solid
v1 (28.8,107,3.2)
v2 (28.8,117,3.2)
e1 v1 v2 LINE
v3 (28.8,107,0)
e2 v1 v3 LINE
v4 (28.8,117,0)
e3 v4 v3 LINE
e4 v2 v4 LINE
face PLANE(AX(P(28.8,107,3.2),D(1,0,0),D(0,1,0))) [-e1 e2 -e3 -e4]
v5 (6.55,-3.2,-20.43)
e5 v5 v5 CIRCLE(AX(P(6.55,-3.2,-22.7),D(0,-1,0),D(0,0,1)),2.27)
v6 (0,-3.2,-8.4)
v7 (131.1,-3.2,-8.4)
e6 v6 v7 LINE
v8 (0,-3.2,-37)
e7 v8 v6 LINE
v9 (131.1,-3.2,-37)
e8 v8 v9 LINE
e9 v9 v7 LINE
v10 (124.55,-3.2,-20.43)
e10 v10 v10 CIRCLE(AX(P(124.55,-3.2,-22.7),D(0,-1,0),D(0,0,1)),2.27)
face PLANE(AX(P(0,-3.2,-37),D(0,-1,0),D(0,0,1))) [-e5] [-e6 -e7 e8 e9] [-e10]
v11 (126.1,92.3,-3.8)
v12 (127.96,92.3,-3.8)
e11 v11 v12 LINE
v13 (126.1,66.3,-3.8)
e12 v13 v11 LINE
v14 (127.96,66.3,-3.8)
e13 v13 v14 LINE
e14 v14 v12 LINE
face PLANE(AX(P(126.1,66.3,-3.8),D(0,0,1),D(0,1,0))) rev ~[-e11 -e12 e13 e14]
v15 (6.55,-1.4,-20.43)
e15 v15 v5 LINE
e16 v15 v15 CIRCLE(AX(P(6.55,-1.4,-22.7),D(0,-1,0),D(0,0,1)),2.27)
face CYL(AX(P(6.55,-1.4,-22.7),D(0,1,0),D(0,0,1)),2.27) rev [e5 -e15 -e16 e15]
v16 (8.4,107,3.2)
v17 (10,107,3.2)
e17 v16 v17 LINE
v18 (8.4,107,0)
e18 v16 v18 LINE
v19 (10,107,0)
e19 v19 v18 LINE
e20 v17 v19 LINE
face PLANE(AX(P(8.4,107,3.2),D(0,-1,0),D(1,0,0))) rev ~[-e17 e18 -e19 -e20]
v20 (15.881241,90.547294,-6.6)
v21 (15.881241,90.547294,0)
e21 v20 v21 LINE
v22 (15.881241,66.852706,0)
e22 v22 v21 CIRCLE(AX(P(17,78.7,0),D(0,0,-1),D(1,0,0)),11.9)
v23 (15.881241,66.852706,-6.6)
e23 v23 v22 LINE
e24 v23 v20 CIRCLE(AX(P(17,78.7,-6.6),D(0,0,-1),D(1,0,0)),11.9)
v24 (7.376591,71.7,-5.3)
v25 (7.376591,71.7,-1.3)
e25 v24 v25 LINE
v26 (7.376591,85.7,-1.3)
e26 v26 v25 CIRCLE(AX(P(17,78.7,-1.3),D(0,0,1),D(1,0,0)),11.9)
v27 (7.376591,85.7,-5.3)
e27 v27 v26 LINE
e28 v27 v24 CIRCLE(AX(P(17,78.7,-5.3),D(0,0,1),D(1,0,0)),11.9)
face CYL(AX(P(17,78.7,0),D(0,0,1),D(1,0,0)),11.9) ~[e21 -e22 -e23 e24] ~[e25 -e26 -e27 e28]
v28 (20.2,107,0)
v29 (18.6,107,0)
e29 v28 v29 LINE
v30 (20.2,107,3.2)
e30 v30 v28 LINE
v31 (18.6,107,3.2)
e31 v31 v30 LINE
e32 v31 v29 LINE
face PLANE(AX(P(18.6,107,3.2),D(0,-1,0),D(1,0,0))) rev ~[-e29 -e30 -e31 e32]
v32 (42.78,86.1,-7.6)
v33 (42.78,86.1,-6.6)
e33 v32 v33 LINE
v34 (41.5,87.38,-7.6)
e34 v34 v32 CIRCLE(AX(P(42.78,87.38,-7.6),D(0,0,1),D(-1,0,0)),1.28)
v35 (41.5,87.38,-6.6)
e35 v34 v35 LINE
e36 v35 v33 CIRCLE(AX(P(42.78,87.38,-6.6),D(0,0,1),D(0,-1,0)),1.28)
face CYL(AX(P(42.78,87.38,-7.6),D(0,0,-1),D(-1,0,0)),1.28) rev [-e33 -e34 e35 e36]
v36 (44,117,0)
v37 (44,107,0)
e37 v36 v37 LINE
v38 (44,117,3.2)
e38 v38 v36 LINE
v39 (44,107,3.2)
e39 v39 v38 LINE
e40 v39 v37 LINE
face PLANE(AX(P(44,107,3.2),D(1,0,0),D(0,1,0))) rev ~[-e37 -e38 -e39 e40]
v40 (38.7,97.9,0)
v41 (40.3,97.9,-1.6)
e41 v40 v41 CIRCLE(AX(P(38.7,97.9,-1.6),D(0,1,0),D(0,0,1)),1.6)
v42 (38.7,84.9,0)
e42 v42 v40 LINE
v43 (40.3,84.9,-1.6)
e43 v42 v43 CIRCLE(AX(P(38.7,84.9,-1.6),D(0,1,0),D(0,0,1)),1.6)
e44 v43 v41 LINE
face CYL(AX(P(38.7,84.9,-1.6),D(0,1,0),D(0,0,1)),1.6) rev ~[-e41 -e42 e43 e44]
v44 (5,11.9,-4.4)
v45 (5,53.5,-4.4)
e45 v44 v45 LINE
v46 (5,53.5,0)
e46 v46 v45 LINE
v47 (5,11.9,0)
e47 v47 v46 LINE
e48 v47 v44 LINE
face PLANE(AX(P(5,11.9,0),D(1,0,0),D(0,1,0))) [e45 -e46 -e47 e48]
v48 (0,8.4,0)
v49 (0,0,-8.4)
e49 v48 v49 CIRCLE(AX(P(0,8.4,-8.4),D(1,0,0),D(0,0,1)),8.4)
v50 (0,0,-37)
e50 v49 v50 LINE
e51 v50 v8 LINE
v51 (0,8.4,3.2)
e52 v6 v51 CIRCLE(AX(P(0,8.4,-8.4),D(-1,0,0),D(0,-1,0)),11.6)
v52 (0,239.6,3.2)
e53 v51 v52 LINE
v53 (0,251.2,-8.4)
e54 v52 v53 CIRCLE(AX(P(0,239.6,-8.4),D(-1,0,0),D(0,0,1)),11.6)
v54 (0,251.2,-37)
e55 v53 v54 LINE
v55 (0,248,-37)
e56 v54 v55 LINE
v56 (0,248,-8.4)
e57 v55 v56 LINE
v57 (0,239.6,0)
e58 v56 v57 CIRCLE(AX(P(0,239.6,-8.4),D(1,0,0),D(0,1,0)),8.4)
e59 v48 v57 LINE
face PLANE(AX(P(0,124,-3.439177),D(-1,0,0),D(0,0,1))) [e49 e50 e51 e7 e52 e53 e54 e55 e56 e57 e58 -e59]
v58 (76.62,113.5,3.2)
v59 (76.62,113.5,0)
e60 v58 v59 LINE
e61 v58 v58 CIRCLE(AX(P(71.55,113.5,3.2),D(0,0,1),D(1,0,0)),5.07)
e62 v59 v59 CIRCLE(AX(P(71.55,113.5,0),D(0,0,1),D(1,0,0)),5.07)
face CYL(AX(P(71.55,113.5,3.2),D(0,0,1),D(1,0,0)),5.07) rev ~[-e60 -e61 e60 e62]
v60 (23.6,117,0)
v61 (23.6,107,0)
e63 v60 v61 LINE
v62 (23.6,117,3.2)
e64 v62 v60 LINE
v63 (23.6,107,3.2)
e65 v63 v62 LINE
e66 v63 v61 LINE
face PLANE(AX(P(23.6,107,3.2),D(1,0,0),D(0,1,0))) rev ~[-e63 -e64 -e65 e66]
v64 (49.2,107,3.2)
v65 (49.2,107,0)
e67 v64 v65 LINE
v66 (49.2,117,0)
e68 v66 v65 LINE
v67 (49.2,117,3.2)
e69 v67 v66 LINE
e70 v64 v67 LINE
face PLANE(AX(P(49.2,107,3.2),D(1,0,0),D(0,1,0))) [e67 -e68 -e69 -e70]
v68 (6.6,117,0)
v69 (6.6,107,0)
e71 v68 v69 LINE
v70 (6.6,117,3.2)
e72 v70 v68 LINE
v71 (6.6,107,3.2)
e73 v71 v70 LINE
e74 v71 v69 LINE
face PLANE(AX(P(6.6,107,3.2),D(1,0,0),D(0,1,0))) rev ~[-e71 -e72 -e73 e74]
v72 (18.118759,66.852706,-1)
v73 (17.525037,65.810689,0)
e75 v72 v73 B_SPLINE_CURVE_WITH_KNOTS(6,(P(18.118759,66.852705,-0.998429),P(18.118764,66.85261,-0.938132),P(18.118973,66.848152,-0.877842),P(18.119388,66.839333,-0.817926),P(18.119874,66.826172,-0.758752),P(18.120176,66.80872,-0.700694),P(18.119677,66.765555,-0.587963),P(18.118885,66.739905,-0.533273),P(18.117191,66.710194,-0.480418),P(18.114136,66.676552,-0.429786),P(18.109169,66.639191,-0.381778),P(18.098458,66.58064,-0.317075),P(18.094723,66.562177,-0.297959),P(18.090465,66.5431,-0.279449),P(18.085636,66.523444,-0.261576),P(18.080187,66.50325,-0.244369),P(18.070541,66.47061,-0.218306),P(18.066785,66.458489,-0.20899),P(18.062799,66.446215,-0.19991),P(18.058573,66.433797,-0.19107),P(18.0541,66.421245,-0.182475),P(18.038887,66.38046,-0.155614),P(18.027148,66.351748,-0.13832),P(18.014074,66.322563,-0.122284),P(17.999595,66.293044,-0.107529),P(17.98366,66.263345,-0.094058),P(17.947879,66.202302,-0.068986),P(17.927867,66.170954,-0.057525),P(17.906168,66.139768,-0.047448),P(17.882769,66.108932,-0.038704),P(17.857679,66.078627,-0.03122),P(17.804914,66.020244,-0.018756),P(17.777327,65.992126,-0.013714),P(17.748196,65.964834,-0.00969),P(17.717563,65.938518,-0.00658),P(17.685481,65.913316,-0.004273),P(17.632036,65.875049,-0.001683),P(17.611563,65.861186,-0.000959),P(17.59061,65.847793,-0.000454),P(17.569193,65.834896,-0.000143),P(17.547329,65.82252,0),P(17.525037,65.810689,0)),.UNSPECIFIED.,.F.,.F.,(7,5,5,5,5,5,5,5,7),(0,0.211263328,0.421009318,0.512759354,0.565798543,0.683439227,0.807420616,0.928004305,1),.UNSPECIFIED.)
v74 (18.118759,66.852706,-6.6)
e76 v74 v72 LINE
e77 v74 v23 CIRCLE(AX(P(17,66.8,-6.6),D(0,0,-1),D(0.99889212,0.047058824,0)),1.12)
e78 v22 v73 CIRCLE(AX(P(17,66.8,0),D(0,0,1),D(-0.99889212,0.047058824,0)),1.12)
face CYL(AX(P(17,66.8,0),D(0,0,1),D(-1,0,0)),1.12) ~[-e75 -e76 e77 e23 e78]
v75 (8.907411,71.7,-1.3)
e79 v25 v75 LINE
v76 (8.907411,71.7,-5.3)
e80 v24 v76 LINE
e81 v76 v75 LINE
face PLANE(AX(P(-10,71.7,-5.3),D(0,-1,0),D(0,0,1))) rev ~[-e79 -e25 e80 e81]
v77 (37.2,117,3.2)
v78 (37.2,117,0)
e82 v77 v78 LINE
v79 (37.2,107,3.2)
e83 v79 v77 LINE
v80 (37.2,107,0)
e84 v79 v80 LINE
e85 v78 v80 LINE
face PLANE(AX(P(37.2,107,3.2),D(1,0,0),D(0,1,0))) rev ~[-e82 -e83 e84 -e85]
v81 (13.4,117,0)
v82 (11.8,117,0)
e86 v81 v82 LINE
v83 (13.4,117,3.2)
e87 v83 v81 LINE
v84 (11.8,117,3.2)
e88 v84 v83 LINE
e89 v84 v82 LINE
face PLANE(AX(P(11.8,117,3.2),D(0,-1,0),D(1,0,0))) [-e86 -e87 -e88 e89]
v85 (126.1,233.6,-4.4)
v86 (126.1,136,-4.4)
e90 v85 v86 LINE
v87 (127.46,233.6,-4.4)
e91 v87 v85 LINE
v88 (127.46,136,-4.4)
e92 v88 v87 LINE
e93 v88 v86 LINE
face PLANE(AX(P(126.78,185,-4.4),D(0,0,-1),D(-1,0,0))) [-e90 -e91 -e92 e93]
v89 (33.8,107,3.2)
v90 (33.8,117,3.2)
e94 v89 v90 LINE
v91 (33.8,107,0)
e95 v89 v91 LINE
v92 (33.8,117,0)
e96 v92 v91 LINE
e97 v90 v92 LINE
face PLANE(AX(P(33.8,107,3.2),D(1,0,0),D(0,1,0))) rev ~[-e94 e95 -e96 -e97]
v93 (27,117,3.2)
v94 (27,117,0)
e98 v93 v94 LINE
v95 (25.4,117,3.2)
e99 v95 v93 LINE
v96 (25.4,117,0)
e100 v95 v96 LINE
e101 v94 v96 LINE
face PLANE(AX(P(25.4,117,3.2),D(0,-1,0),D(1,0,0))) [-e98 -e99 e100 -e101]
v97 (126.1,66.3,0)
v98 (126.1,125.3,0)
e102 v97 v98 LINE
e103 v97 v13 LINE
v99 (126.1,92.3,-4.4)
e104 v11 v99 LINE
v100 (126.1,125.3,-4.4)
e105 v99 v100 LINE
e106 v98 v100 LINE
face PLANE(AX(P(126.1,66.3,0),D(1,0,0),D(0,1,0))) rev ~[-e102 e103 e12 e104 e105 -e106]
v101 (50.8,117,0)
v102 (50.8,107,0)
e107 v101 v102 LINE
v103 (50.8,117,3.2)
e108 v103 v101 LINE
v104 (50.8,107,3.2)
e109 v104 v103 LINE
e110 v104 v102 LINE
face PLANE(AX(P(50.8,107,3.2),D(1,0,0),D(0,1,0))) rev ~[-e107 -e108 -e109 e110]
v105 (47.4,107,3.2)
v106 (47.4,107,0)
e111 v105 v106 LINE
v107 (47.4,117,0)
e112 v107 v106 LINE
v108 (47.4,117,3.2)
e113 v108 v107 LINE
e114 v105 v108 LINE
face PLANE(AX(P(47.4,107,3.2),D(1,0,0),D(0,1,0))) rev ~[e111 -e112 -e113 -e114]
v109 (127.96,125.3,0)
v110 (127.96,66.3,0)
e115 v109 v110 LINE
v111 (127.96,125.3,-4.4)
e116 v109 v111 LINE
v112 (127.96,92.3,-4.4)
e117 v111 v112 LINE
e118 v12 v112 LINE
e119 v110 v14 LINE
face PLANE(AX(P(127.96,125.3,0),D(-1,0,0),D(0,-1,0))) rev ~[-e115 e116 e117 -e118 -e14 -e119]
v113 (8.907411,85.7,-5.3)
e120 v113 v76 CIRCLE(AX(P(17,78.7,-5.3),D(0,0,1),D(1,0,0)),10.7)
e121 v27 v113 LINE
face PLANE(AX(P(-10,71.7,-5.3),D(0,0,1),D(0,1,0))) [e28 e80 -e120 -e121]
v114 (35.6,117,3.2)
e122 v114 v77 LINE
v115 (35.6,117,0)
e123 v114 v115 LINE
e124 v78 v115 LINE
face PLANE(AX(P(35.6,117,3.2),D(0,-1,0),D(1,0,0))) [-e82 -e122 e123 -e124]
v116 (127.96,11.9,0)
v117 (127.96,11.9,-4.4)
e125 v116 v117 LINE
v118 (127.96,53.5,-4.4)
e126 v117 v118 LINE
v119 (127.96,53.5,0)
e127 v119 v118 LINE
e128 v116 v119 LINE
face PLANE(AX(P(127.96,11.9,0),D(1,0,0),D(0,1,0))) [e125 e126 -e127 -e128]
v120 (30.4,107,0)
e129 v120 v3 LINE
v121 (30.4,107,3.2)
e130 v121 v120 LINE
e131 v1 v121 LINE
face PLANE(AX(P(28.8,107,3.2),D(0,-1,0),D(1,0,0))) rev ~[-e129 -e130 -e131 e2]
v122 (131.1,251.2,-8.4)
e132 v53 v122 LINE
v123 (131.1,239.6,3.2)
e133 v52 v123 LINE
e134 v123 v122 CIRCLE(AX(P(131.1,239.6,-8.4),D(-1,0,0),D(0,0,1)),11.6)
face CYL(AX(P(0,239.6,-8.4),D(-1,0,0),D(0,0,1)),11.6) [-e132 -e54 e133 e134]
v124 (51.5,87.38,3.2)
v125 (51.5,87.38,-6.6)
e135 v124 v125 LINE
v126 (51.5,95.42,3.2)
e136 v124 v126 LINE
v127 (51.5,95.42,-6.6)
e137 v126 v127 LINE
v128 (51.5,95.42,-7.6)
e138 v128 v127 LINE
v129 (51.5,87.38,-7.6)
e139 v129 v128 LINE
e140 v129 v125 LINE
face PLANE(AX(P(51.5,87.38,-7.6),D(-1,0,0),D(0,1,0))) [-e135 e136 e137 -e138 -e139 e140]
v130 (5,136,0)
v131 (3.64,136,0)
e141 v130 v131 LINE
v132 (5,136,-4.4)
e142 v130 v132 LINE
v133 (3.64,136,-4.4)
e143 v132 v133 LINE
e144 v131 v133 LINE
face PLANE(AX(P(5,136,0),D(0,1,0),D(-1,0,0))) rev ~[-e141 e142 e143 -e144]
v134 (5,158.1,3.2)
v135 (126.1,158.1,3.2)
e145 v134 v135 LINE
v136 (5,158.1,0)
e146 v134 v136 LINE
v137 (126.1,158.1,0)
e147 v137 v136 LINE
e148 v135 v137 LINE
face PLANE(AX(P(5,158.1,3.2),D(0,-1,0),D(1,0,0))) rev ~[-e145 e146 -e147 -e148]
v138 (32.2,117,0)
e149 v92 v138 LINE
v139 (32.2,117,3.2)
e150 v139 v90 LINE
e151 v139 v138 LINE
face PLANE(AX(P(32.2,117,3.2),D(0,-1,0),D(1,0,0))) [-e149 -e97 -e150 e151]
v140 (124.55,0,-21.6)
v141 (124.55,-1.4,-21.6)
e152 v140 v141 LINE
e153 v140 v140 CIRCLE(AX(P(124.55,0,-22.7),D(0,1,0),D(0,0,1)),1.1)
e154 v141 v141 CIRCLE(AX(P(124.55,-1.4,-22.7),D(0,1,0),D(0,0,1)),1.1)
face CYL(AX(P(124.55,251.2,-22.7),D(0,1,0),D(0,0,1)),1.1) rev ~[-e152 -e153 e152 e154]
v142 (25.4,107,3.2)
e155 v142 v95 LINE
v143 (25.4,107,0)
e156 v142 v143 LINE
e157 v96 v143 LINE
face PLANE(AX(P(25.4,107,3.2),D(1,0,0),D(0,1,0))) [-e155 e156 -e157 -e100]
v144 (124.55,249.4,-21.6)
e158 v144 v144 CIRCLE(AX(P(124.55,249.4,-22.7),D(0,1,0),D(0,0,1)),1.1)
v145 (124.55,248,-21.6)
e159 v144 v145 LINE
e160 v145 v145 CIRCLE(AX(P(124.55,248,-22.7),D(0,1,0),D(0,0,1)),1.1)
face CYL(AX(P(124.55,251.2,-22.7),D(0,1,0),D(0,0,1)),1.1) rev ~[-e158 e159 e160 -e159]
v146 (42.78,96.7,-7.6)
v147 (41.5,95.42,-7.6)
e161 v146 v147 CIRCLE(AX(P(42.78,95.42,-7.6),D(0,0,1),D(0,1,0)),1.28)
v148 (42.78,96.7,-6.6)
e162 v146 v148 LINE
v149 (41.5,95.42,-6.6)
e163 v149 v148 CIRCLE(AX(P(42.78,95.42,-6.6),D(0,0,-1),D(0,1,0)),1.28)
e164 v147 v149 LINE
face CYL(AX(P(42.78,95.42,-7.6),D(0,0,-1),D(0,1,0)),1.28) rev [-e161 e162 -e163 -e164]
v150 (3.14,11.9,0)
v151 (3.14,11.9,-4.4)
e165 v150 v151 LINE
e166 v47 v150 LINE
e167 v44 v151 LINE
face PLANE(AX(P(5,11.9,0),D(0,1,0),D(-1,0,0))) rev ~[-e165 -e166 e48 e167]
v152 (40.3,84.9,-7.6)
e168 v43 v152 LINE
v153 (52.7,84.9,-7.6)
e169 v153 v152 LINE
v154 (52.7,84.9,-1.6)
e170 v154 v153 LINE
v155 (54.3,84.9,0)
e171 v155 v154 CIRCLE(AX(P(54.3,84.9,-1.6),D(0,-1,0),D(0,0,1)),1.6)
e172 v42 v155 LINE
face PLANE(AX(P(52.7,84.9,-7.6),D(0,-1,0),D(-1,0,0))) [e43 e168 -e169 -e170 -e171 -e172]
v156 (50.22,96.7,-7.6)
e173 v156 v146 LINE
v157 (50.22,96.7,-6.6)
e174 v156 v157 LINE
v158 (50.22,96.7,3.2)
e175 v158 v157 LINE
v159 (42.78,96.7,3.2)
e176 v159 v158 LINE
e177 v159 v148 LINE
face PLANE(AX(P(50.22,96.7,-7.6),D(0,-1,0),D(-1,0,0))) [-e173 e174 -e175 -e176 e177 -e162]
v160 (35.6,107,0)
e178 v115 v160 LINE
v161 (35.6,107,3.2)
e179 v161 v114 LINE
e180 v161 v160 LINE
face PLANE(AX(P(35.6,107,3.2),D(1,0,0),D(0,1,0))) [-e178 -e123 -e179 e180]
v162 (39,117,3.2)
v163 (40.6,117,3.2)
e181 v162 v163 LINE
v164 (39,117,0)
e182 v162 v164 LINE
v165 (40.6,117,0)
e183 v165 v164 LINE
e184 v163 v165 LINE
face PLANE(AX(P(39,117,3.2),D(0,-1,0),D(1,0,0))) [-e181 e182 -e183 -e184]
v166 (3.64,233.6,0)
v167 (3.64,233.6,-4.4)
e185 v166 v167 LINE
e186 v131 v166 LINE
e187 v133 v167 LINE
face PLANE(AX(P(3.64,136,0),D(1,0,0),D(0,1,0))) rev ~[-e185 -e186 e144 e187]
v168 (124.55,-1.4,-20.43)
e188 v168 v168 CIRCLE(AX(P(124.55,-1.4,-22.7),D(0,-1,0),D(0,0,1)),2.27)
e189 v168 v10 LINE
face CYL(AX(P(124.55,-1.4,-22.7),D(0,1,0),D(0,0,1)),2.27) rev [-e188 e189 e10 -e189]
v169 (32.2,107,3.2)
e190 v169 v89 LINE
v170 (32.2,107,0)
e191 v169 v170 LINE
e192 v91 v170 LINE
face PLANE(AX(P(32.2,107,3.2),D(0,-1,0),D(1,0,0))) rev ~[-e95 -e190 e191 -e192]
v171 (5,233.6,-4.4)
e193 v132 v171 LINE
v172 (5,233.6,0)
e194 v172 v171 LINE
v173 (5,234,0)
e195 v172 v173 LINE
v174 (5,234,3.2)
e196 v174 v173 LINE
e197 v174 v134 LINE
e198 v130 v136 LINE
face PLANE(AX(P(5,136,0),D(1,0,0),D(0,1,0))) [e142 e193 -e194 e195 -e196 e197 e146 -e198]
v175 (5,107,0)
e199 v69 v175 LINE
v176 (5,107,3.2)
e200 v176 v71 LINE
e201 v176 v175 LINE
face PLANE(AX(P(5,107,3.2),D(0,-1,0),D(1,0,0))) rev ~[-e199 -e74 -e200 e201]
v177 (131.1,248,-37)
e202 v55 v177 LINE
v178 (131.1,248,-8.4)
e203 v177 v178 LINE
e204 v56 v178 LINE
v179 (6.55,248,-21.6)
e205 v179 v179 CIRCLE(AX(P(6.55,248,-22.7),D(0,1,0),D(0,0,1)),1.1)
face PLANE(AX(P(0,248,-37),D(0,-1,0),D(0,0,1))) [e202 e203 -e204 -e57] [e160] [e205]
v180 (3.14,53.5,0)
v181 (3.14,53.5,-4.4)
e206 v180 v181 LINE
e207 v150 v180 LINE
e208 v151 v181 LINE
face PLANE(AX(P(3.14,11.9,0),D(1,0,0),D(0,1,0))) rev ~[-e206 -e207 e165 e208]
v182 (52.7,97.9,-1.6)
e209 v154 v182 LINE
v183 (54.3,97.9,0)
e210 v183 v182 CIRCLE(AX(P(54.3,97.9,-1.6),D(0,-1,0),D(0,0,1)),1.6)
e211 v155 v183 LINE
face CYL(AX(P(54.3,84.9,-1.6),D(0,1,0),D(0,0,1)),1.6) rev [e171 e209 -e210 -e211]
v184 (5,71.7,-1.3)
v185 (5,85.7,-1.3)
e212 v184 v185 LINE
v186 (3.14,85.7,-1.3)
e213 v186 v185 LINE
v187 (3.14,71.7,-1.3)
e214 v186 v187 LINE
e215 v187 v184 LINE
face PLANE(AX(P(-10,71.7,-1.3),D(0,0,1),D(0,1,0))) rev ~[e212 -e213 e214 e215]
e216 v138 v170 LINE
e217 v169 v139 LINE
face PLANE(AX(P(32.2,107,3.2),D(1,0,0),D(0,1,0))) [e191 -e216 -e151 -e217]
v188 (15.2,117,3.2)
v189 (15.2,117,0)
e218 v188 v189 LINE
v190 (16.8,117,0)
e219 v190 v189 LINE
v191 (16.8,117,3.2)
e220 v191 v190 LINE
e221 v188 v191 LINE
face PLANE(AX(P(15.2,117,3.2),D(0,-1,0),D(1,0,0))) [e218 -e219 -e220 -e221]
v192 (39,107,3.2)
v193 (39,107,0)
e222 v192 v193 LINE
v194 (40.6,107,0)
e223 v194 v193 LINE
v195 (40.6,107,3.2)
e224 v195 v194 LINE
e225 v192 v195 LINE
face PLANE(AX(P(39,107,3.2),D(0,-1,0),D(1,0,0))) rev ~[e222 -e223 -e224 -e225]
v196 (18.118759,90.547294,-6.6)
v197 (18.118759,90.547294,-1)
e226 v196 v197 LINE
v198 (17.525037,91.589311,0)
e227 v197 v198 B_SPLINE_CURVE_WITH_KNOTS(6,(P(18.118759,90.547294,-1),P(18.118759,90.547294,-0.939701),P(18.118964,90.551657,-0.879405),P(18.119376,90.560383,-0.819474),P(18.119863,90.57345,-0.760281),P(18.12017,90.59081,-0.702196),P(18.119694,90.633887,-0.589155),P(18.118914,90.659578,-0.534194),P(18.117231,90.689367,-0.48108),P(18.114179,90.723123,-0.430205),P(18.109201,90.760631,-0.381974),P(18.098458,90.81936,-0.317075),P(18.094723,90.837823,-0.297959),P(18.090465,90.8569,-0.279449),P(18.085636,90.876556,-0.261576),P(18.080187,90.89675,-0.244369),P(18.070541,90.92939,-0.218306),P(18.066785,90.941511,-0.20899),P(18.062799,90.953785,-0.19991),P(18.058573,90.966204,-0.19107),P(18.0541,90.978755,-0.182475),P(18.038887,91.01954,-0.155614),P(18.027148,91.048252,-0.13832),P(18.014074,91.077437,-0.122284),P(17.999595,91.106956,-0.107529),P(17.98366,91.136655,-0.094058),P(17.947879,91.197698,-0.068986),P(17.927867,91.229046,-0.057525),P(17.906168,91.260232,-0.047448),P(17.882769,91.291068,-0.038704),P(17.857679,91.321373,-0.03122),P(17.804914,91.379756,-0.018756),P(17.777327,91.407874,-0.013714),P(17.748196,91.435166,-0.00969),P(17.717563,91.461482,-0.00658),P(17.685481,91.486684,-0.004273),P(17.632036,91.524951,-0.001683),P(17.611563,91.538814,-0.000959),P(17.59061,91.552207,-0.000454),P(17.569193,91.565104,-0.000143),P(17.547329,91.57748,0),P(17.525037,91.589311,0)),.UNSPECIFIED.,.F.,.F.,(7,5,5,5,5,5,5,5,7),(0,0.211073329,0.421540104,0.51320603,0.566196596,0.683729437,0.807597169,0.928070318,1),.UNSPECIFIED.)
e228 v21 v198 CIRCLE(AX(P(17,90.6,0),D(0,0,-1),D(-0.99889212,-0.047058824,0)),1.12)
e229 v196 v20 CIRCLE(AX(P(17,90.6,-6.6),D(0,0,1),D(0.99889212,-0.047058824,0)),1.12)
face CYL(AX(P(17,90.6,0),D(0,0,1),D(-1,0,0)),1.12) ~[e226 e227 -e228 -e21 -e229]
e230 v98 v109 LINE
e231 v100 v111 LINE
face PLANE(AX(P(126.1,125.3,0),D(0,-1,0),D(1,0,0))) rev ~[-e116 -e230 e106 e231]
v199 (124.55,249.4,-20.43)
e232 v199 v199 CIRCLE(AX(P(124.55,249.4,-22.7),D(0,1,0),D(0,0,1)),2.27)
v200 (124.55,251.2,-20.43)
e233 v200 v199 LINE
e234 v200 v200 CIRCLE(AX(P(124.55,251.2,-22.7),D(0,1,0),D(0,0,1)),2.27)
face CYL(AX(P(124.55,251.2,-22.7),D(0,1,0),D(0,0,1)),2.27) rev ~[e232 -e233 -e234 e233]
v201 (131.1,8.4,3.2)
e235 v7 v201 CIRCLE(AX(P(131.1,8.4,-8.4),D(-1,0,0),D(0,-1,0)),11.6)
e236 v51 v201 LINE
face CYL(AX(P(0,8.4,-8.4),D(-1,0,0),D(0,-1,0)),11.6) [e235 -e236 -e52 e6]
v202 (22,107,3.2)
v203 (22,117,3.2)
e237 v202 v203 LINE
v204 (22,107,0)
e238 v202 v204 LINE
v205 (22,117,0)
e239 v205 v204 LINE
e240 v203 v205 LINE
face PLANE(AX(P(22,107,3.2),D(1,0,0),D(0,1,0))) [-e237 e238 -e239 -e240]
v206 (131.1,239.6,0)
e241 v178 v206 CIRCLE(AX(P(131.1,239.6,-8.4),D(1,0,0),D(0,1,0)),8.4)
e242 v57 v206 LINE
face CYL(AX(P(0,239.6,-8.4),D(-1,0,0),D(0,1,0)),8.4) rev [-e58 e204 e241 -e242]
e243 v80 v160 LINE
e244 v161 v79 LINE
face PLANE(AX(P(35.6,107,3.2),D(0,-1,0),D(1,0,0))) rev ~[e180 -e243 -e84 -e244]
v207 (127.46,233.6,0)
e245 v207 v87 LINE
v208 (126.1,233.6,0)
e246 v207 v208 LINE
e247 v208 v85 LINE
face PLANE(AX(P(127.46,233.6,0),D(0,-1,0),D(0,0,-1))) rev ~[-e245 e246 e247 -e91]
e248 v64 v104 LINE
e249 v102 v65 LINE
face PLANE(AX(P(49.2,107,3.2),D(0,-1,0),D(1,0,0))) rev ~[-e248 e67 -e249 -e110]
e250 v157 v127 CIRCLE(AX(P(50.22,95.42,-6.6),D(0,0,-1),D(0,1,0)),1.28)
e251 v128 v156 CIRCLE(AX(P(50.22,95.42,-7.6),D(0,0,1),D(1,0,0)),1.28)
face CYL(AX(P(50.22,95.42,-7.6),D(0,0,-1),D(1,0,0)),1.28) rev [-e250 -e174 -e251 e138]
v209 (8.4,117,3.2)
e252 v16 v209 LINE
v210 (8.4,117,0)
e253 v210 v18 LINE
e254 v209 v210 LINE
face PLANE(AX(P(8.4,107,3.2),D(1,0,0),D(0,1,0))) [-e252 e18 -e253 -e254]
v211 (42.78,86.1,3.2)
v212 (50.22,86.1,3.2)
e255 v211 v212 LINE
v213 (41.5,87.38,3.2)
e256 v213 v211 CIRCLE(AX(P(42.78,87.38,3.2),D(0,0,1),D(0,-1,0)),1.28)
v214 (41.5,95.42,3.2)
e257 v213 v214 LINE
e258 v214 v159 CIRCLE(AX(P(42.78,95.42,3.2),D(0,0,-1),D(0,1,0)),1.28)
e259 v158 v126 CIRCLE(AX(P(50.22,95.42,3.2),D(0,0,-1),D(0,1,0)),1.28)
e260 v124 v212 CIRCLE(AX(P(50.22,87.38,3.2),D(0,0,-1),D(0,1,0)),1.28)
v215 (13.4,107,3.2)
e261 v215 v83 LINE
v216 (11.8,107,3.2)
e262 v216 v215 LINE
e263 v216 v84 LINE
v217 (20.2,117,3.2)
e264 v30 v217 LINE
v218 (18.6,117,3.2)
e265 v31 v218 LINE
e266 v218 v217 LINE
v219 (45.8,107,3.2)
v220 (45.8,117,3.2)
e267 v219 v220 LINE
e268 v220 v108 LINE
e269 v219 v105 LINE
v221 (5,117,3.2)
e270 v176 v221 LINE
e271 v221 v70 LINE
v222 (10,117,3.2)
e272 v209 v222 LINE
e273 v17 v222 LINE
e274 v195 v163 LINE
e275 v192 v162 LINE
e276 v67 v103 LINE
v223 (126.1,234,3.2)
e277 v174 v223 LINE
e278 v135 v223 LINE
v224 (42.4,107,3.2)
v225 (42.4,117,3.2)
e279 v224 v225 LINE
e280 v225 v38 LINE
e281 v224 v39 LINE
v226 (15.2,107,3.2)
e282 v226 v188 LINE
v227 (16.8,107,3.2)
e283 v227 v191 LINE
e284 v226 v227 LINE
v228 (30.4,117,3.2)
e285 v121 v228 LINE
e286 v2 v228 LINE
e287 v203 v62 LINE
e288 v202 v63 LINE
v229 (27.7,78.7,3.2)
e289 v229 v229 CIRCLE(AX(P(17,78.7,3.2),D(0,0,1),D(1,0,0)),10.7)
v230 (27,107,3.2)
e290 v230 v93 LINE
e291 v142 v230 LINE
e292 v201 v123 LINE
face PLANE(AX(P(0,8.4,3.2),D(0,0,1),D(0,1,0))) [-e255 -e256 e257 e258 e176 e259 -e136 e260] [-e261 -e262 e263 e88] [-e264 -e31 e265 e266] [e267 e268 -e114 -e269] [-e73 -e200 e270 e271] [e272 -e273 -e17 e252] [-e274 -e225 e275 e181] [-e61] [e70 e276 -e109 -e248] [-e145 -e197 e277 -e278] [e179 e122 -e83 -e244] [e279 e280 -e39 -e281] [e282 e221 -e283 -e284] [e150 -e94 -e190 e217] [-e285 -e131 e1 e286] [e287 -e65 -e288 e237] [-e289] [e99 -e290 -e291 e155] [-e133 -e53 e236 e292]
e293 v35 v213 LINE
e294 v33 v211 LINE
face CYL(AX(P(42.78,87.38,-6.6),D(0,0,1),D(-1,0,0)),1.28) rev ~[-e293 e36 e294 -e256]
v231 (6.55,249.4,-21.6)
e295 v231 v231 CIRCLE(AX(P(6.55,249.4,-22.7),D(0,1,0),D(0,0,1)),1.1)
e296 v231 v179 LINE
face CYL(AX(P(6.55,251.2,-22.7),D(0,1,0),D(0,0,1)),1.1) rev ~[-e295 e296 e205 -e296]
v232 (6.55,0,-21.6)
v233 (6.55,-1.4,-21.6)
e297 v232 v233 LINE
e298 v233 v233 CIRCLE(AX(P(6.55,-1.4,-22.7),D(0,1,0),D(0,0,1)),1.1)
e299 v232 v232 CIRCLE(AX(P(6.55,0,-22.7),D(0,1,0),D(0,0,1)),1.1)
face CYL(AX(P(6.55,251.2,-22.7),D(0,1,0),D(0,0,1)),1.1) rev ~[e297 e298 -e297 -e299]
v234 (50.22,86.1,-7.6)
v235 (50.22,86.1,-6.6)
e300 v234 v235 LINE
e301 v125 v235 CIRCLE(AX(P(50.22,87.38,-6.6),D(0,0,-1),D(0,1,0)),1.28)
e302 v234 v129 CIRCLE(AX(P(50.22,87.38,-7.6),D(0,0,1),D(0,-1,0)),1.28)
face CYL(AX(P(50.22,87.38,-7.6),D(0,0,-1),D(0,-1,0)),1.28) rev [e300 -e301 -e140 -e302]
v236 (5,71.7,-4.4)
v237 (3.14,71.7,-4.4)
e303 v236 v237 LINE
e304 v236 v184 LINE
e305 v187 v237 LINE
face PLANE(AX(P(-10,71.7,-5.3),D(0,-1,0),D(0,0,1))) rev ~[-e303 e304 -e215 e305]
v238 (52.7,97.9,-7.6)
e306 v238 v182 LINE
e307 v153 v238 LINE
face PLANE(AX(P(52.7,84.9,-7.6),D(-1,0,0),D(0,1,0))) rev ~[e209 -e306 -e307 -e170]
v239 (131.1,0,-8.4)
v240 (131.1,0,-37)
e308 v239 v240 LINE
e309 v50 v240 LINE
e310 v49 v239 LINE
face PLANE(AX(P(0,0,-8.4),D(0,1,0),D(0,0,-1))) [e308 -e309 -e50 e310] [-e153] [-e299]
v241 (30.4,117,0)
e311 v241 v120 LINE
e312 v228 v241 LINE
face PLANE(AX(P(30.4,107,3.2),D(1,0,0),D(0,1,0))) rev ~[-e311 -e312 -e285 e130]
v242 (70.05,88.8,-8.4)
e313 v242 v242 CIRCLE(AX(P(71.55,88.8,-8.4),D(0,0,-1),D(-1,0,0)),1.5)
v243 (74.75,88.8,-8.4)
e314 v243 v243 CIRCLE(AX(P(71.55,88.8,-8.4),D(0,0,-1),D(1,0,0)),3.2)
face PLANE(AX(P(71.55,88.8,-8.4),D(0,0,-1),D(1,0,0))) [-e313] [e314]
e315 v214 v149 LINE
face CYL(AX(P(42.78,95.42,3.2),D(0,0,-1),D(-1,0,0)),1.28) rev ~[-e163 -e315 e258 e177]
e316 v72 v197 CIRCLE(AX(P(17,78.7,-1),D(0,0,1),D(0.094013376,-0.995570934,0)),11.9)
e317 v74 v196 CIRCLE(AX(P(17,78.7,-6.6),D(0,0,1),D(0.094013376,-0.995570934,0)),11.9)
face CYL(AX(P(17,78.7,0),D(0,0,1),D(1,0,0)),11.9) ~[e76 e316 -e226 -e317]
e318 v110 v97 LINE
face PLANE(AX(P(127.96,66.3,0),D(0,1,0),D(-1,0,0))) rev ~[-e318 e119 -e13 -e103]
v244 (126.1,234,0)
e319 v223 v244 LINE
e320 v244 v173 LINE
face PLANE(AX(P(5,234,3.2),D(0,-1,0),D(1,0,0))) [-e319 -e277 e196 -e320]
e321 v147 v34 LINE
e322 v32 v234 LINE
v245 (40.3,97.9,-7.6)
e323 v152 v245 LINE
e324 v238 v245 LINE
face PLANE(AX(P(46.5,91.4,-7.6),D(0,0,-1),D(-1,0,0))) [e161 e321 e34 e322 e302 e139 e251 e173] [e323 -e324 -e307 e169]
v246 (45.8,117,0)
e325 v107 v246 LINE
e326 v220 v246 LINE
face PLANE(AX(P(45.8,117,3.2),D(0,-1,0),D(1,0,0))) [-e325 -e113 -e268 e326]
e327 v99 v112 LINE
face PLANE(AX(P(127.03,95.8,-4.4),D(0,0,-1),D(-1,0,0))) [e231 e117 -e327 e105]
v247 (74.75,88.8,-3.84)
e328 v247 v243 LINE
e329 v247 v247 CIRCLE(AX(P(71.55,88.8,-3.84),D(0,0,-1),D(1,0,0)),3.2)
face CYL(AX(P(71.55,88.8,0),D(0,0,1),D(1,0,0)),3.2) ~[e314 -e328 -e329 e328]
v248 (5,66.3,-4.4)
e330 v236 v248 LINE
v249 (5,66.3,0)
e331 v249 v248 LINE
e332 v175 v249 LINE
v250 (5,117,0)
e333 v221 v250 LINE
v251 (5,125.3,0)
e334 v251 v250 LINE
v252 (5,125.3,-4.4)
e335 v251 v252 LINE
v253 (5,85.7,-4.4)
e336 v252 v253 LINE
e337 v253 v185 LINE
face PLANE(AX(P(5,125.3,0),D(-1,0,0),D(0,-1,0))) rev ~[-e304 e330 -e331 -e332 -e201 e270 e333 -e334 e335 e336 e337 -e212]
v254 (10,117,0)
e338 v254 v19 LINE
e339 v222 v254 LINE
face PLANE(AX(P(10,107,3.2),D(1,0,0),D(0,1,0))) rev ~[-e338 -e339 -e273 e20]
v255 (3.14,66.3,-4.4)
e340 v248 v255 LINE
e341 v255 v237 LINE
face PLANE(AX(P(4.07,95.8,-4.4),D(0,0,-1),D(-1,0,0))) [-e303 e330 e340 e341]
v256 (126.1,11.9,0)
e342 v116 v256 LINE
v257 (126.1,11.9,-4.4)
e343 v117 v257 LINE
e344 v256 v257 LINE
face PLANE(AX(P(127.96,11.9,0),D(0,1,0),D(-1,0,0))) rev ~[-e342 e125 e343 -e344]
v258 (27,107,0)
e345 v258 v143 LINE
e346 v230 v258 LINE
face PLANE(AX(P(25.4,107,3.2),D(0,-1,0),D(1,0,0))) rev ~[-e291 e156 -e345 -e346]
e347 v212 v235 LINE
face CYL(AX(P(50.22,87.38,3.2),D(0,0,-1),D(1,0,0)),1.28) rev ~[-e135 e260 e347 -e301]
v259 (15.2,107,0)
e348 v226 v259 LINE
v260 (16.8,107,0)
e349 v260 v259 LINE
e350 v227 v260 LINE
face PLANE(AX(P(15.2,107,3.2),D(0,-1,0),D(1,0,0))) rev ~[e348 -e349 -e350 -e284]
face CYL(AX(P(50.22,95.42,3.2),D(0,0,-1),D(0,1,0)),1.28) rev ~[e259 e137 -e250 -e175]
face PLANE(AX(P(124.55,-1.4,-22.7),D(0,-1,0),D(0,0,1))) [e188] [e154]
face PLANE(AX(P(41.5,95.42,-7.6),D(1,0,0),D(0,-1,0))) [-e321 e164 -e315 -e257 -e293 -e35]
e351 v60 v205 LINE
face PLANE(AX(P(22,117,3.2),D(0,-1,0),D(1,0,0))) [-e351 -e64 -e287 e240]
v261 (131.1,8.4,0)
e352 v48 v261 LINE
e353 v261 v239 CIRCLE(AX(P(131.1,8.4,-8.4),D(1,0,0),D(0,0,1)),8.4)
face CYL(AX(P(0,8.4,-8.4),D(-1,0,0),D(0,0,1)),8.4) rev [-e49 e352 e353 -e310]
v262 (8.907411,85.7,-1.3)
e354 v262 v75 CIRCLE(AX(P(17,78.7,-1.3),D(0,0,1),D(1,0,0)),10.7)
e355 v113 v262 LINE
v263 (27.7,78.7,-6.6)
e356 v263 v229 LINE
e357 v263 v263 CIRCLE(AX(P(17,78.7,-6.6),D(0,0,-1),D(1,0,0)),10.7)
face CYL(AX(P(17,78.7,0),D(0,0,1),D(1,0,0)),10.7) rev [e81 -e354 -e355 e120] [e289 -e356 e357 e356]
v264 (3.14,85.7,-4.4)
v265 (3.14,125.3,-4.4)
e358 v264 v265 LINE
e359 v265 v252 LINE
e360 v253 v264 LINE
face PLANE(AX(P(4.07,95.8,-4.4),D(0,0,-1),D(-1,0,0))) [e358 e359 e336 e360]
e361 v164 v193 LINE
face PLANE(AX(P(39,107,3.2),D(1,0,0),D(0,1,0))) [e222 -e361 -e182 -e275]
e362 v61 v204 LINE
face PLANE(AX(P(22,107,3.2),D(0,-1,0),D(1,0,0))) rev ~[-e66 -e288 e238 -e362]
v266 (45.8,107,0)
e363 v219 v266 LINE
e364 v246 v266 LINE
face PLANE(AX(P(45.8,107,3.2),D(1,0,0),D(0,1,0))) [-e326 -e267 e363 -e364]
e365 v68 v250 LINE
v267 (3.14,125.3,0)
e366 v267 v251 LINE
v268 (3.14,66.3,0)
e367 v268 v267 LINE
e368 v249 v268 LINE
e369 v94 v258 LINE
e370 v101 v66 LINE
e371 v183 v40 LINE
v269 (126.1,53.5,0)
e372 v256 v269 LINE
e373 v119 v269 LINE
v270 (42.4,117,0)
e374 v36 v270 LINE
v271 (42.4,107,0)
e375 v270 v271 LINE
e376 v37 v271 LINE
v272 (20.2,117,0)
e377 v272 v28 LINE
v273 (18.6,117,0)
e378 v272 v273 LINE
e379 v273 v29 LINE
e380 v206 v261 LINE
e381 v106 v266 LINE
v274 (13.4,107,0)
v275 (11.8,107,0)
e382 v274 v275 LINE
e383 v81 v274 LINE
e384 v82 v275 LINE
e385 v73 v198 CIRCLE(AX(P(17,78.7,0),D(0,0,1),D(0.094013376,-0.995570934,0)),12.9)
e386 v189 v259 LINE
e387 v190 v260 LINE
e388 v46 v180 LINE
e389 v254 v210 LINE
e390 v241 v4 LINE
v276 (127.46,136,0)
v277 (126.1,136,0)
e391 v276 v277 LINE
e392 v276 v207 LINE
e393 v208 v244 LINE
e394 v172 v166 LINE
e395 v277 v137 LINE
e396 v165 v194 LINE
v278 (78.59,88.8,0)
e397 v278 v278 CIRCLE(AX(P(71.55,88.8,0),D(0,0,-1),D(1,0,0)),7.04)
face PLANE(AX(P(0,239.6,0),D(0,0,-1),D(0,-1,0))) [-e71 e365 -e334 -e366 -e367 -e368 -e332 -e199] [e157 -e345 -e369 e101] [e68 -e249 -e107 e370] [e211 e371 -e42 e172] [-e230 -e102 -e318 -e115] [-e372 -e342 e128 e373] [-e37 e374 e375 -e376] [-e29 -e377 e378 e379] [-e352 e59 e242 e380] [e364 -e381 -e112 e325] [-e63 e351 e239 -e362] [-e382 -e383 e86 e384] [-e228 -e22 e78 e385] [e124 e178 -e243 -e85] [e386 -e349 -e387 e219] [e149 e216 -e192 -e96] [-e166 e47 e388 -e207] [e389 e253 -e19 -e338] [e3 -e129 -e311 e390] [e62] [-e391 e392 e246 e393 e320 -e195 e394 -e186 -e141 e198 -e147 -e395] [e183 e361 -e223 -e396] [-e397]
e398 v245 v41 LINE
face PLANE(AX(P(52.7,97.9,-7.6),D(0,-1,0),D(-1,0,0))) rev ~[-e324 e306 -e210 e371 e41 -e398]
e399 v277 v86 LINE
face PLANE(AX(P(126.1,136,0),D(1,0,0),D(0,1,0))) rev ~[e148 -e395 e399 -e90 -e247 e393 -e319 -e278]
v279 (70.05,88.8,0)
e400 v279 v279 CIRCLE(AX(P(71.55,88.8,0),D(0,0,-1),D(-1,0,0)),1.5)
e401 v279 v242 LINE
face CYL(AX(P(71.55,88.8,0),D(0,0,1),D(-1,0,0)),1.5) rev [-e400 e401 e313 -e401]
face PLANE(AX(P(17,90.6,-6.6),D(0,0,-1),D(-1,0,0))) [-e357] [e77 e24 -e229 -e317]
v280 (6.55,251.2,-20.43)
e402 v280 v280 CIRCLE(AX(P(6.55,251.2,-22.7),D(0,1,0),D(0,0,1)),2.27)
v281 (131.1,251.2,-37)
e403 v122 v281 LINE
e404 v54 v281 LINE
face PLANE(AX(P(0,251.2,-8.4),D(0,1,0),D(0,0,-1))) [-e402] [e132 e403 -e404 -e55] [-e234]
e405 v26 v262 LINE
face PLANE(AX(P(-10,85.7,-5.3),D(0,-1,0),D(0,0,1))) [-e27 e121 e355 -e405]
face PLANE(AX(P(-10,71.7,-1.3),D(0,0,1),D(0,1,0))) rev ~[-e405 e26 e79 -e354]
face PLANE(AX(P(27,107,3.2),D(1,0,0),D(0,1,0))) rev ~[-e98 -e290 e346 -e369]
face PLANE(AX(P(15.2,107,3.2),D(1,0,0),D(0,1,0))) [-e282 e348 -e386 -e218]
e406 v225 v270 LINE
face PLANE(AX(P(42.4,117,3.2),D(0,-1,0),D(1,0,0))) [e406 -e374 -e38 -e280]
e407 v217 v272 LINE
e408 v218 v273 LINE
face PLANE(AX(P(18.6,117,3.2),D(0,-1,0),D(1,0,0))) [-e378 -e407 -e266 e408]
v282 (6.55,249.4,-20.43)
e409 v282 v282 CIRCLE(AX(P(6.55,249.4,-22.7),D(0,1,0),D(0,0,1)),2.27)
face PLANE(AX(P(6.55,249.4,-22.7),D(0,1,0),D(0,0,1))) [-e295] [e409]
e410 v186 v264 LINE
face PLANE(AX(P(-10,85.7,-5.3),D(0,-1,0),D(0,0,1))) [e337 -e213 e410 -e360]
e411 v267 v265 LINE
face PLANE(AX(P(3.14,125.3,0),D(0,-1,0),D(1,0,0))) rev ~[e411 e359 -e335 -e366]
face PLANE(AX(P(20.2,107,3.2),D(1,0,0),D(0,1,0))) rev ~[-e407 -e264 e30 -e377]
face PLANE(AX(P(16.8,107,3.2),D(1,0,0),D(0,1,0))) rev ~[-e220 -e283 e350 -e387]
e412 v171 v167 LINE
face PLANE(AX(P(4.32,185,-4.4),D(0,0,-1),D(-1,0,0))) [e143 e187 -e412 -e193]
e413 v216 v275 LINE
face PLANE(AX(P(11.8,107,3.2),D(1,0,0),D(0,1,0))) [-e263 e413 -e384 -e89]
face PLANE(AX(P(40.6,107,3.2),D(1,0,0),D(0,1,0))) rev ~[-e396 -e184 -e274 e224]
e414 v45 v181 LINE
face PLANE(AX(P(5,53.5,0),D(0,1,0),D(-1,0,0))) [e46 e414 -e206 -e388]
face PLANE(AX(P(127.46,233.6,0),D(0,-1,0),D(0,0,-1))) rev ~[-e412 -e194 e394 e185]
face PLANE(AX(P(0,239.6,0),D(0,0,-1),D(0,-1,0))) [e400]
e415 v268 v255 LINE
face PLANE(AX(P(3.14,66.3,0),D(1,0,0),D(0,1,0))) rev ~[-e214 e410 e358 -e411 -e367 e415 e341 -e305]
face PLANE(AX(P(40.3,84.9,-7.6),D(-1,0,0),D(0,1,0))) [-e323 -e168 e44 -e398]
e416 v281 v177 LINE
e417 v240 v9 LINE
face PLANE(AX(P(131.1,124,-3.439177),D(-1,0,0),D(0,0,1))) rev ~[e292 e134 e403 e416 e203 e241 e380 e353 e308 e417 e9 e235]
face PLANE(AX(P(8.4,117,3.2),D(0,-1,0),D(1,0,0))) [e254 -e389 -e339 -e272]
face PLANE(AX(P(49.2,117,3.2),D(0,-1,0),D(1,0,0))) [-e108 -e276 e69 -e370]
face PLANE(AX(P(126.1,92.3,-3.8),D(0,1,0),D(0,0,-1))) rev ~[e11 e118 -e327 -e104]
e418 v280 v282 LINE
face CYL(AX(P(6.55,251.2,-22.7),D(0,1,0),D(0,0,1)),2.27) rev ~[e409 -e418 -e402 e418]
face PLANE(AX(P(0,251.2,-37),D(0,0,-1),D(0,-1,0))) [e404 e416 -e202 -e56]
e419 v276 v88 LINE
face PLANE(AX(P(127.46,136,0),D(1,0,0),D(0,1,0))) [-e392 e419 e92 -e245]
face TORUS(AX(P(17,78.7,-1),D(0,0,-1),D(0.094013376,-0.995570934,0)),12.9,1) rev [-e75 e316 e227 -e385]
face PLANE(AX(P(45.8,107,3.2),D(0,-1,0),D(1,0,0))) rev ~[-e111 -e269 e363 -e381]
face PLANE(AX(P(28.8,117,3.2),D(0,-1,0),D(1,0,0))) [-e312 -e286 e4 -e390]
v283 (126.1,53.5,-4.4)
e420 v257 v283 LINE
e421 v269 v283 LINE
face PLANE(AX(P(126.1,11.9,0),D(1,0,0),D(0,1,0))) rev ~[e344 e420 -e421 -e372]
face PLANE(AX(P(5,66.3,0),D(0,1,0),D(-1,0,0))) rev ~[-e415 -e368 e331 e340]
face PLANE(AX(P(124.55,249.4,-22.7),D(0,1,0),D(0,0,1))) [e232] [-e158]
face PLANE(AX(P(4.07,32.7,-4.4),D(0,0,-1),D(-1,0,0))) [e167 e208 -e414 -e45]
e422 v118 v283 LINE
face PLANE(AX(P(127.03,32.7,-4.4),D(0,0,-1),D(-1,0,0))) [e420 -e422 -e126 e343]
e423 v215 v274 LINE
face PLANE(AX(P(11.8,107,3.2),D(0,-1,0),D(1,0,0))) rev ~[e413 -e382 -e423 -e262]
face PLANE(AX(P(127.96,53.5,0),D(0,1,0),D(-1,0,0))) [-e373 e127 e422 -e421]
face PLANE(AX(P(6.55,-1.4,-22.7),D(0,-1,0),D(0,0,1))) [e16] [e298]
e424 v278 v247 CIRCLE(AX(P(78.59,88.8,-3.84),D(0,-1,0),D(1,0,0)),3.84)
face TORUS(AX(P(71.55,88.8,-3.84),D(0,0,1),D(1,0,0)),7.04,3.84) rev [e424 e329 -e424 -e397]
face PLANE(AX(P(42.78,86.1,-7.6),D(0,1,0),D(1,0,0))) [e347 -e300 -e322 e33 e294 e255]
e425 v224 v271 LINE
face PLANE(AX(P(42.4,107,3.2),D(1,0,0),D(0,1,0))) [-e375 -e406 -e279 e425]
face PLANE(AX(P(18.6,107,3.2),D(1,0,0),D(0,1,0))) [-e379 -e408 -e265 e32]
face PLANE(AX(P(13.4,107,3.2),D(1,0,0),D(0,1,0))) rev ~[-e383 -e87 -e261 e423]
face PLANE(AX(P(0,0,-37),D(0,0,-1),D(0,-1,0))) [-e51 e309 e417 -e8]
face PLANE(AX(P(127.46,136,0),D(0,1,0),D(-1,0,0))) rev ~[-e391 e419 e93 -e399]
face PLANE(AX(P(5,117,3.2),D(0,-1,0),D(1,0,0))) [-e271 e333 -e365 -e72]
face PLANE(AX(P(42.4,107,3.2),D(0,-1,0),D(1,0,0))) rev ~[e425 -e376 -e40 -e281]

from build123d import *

# Parameters (mm, degrees)
SALIENTE_EXTRUIR1_DEPTH    = 131.1
CROQUIS3_R                 = 1.1
CORTAR_EXTRUIR1_DEPTH      = 289.575068223
CROQUIS4_R                 = 10.7
CROQUIS4_R_2               = 5.07
CROQUIS4_W                 = 121.1
CROQUIS4_H                 = 75.8
CROQUIS4_W_2               = 1.6
CROQUIS4_H_2               = 10
CROQUIS4_W_3               = 10
CROQUIS4_H_3               = 10.6
CORTAR_EXTRUIR2_DEPTH      = 287.189954401
CROQUIS7_W                 = 1.36
CROQUIS7_H                 = 98
CROQUIS7_W_2               = 1.86
CROQUIS7_H_2               = 41.6
SALIENTE_EXTRUIR2_DEPTH    = 4.4
CROQUIS8_R                 = 2.27
CORTAR_EXTRUIR3_DEPTH      = 1.8
CORTAR_EXTRUIR4_START      = -1.8
CROQUIS9_R                 = 2.27
CORTAR_EXTRUIR4_DEPTH      = 1.8
CROQUIS10_R                = 11.9
CROQUIS10_R_2              = 10.7
CROQUIS10_W                = 12.4
CROQUIS10_H                = 13
CROQUIS10_W_2              = 10
CROQUIS10_H_2              = 10.6
SALIENTE_EXTRUIR4_DEPTH    = 6.6
REDONDEO2_R                = 1.28
CORTAR_EXTRUIR5_REACH      = 292.482
CORTAR_EXTRUIR5_END_RADIUS = 10.7
CROQUIS11_W                = 4
CROQUIS11_H                = 14
SALIENTE_EXTRUIR6_START    = 1
CROQUIS13_W                = 12.4
CROQUIS13_H                = 13
SALIENTE_EXTRUIR6_DEPTH    = 1
CROQUIS14_R                = 3.2
CROQUIS14_R_2              = 1.5
SALIENTE_EXTRUIR7_DEPTH    = 8.4
REDONDEO3_R                = 3.84
CROQUIS17_W                = 4.4
CROQUIS17_H                = 0.4
CORTAR_EXTRUIR6_DEPTH      = 285.106479335
REDONDEO4_R                = 1.6
CROQUIS19_R                = 1.12
SALIENTE_EXTRUIR8_DEPTH    = 6.6
REDONDEO5_R                = 1
CORTAR_EXTRUIR8_START      = -1.86
CROQUIS21_W                = 0.6
CROQUIS21_H                = 26
CORTAR_EXTRUIR8_DEPTH      = 1.86
CROQUIS23_W                = 121.1
CROQUIS23_H                = 0.1
CORTAR_EXTRUIR9_DEPTH      = 287.189954401


with BuildPart() as part:
    # Croquis2 → Saliente-Extruir1 (new body)
    with BuildSketch(Plane(origin=(0, 0, 0), x_dir=(0, 0, -1), z_dir=(1, 0, 0))):
        with BuildLine():
            Line((37, 0), (37, -3.2))
            Line((37, -3.2), (8.4, -3.2))
            ThreePointArc((8.4, -3.2), (0.197561338, 0.197561338), (-3.2, 8.4))
            Line((-3.2, 8.4), (-3.2, 239.6))
            ThreePointArc((-3.2, 239.6), (0.197561338, 247.802438662), (8.4, 251.2))
            Line((8.4, 251.2), (37, 251.2))
            Line((37, 251.2), (37, 248))
            Line((37, 248), (8.4, 248))
            ThreePointArc((8.4, 248), (2.460303038, 245.539696962), (0, 239.6))
            Line((0, 239.6), (0, 8.4))
            ThreePointArc((0, 8.4), (2.460303038, 2.460303038), (8.4, 0))
            Line((8.4, 0), (37, 0))
        make_face()
    extrude(amount=SALIENTE_EXTRUIR1_DEPTH)

    # Croquis3 → Cortar-Extruir1 (cut, through all)
    with BuildSketch(Plane(origin=(0, 251.2, 0), x_dir=(1, 0, 0), z_dir=(0, 1, 0))):
        with Locations(Location((6.55, 22.7, 0), (0, 0, 270))):
            Circle(CROQUIS3_R)
        with Locations(Location((124.55, 22.7, 0), (0, 0, 270))):
            Circle(CROQUIS3_R)
    extrude(amount=-CORTAR_EXTRUIR1_DEPTH, mode=Mode.SUBTRACT)

    # Croquis4 → Cortar-Extruir2 (cut, through all)
    with BuildSketch(Plane.XY.offset(3.2)):
        with Locations((17, 78.7)):
            Circle(CROQUIS4_R)
        with Locations((71.55, 113.5)):
            Circle(CROQUIS4_R_2)
        with Locations((65.55, 196.1)):
            Rectangle(CROQUIS4_W, CROQUIS4_H)
        with Locations((9.2, 112)):
            Rectangle(CROQUIS4_W_2, CROQUIS4_H_2)
        with Locations((46.5, 91.4)):
            Rectangle(CROQUIS4_W_3, CROQUIS4_H_3)
        with Locations((5.8, 112)):
            Rectangle(CROQUIS4_W_2, CROQUIS4_H_2)
        with Locations((12.6, 112)):
            Rectangle(CROQUIS4_W_2, CROQUIS4_H_2)
        with Locations((16, 112)):
            Rectangle(CROQUIS4_W_2, CROQUIS4_H_2)
        with Locations((19.4, 112)):
            Rectangle(CROQUIS4_W_2, CROQUIS4_H_2)
        with Locations((22.8, 112)):
            Rectangle(CROQUIS4_W_2, CROQUIS4_H_2)
        with Locations((26.2, 112)):
            Rectangle(CROQUIS4_W_2, CROQUIS4_H_2)
        with Locations((29.6, 112)):
            Rectangle(CROQUIS4_W_2, CROQUIS4_H_2)
        with Locations((33, 112)):
            Rectangle(CROQUIS4_W_2, CROQUIS4_H_2)
        with Locations((36.4, 112)):
            Rectangle(CROQUIS4_W_2, CROQUIS4_H_2)
        with Locations((39.8, 112)):
            Rectangle(CROQUIS4_W_2, CROQUIS4_H_2)
        with Locations((43.2, 112)):
            Rectangle(CROQUIS4_W_2, CROQUIS4_H_2)
        with Locations((46.6, 112)):
            Rectangle(CROQUIS4_W_2, CROQUIS4_H_2)
        with Locations((50, 112)):
            Rectangle(CROQUIS4_W_2, CROQUIS4_H_2)
    extrude(amount=-CORTAR_EXTRUIR2_DEPTH, mode=Mode.SUBTRACT)

    # Croquis7 → Saliente-Extruir2 (add)
    with BuildSketch(Plane(origin=(0, 0, 0), x_dir=(-1, 0, 0), z_dir=(0, 0, -1))):
        Polygon((-127.46, 125.3), (-127.96, 125.3), (-127.96, 66.3), (-127.46, 66.3), (-126.1, 66.3), (-126.1, 125.3), align=None)
        with Locations((-126.78, 185)):
            Rectangle(CROQUIS7_W, CROQUIS7_H)
        with Locations((-4.32, 185)):
            Rectangle(CROQUIS7_W, CROQUIS7_H)
        Polygon((-3.64, 125.3), (-5, 125.3), (-5, 66.3), (-3.64, 66.3), (-3.14, 66.3), (-3.14, 125.3), align=None)
        with Locations((-127.03, 32.7)):
            Rectangle(CROQUIS7_W_2, CROQUIS7_H_2)
        with Locations((-4.07, 32.7)):
            Rectangle(CROQUIS7_W_2, CROQUIS7_H_2)
    extrude(amount=SALIENTE_EXTRUIR2_DEPTH)

    # Croquis8 → Cortar-Extruir3 (cut)
    with BuildSketch(Plane(origin=(0, 251.2, 0), x_dir=(1, 0, 0), z_dir=(0, 1, 0))):
        with Locations(Location((6.55, 22.7, 0), (0, 0, 270))):
            Circle(CROQUIS8_R)
        with Locations(Location((124.55, 22.7, 0), (0, 0, 270))):
            Circle(CROQUIS8_R)
    extrude(amount=-CORTAR_EXTRUIR3_DEPTH, mode=Mode.SUBTRACT)

    # Croquis9 → Cortar-Extruir4 (cut)
    with BuildSketch(Plane.XZ.offset(3.2).offset(CORTAR_EXTRUIR4_START)):
        with Locations(Location((124.55, -22.7, 0), (0, 0, 90))):
            Circle(CROQUIS9_R)
        with Locations(Location((6.55, -22.7, 0), (0, 0, 90))):
            Circle(CROQUIS9_R)
    extrude(amount=CORTAR_EXTRUIR4_DEPTH, mode=Mode.SUBTRACT)

    # Croquis10 → Saliente-Extruir4 (add)
    # profile 1 of 2: a face of its own
    with BuildSketch(Plane(origin=(0, 0, 0), x_dir=(-1, 0, 0), z_dir=(0, 0, -1))):
        with Locations(Location((-17, 78.7, 0), (0, 0, 180))):
            Circle(CROQUIS10_R)
        with Locations(Location((-17, 78.7, 0), (0, 0, 180))):
            Circle(CROQUIS10_R_2, mode=Mode.SUBTRACT)
    # profile 2 of 2: a face of its own
    with BuildSketch(Plane(origin=(0, 0, 0), x_dir=(-1, 0, 0), z_dir=(0, 0, -1))):
        with Locations((-46.5, 91.4)):
            Rectangle(CROQUIS10_W, CROQUIS10_H)
        with Locations((-46.5, 91.4)):
            Rectangle(CROQUIS10_W_2, CROQUIS10_H_2, mode=Mode.SUBTRACT)
    extrude(amount=SALIENTE_EXTRUIR4_DEPTH)

    # Redondeo2
    redondeo2_edges = [part.edges().sort_by_distance(p)[0] for p in [
        (41.5, 86.1, -1.7),
        (41.5, 96.7, -1.7),
        (51.5, 96.7, -1.7),
        (51.5, 86.1, -1.7),
    ]]
    fillet(redondeo2_edges, radius=REDONDEO2_R)

    # Cortar-Extruir5: up to this cylinder (the profile starts outside it)
    cortar_extruir5_end = Plane(origin=(17, 78.7, -3.3), z_dir=(0, 0, 1)) * Cylinder(CORTAR_EXTRUIR5_END_RADIUS, 607.364, mode=Mode.PRIVATE)
    # Croquis11 → Cortar-Extruir5 (cut, up to the surface)
    with BuildSketch(Plane.ZY.offset(10), mode=Mode.PRIVATE) as cortar_extruir5_sk1:
        with Locations((-3.3, 78.7)):
            Rectangle(CROQUIS11_W, CROQUIS11_H)
    cortar_extruir5_tool1 = extrude(cortar_extruir5_sk1.sketch, amount=-CORTAR_EXTRUIR5_REACH, mode=Mode.PRIVATE) - cortar_extruir5_end
    add(cortar_extruir5_tool1.solids().sort_by_distance((-10, 78.7, -3.3))[0], mode=Mode.SUBTRACT)

    # Croquis13 → Saliente-Extruir6 (add)
    with BuildSketch(Plane(origin=(0, 0, -6.6), x_dir=(-1, 0, 0), z_dir=(0, 0, -1)).offset(SALIENTE_EXTRUIR6_START)):
        with Locations((-46.5, 91.4)):
            Rectangle(CROQUIS13_W, CROQUIS13_H)
        with BuildLine():
            ThreePointArc((-50.22, 86.1), (-51.12509668, 86.47490332), (-51.5, 87.38))
            Line((-51.5, 87.38), (-51.5, 95.42))
            ThreePointArc((-51.5, 95.42), (-51.12509668, 96.32509668), (-50.22, 96.7))
            Line((-50.22, 96.7), (-42.78, 96.7))
            ThreePointArc((-42.78, 96.7), (-41.87490332, 96.32509668), (-41.5, 95.42))
            Line((-41.5, 95.42), (-41.5, 87.38))
            ThreePointArc((-41.5, 87.38), (-41.87490332, 86.47490332), (-42.78, 86.1))
            Line((-42.78, 86.1), (-50.22, 86.1))
        make_face(mode=Mode.SUBTRACT)
    extrude(amount=-SALIENTE_EXTRUIR6_DEPTH)

    # Croquis14 → Saliente-Extruir7 (add)
    with BuildSketch(Plane(origin=(0, 0, 0), x_dir=(-1, 0, 0), z_dir=(0, 0, -1))):
        with Locations(Location((-71.55, 88.8, 0), (0, 0, 180))):
            Circle(CROQUIS14_R)
        with Locations((-71.55, 88.8)):
            Circle(CROQUIS14_R_2, mode=Mode.SUBTRACT)
    extrude(amount=SALIENTE_EXTRUIR7_DEPTH)

    # Redondeo3
    redondeo3_edges = [part.edges().sort_by_distance(p)[0] for p in [
        (68.35, 88.8, 0),
    ]]
    fillet(redondeo3_edges, radius=REDONDEO3_R)

    # Croquis17 → Cortar-Extruir6 (cut, through all)
    with BuildSketch(Plane(origin=(127.46, 0, 0), x_dir=(0, 0, -1), z_dir=(1, 0, 0))):
        with Locations((2.2, 233.8)):
            Rectangle(CROQUIS17_W, CROQUIS17_H)
    extrude(amount=-CORTAR_EXTRUIR6_DEPTH, mode=Mode.SUBTRACT)

    # Redondeo4
    redondeo4_edges = [part.edges().sort_by_distance(p)[0] for p in [
        (52.7, 91.4, 0),
        (40.3, 91.4, 0),
    ]]
    fillet(redondeo4_edges, radius=REDONDEO4_R)

    # Croquis19 → Saliente-Extruir8 (add)
    with BuildSketch(Plane(origin=(0, 0, 0), x_dir=(-1, 0, 0), z_dir=(0, 0, -1))):
        with Locations((-17, 90.6)):
            Circle(CROQUIS19_R)
        with Locations((-17, 66.8)):
            Circle(CROQUIS19_R)
    extrude(amount=SALIENTE_EXTRUIR8_DEPTH)

    # Redondeo5
    redondeo5_edges = [part.edges().sort_by_distance(p)[0] for p in [
        (28.9, 78.7, 0),
    ]]
    fillet(redondeo5_edges, radius=REDONDEO5_R)

    # Croquis21 → Cortar-Extruir8 (cut)
    with BuildSketch(Plane(origin=(127.96, 0, 0), x_dir=(0, 0, -1), z_dir=(1, 0, 0)).offset(CORTAR_EXTRUIR8_START)):
        with Locations((4.1, 79.3)):
            Rectangle(CROQUIS21_W, CROQUIS21_H)
    extrude(amount=CORTAR_EXTRUIR8_DEPTH, mode=Mode.SUBTRACT)

    # Croquis23 → Cortar-Extruir9 (cut, through all)
    with BuildSketch(Plane.XY.offset(3.2)):
        with Locations((65.55, 158.15)):
            Rectangle(CROQUIS23_W, CROQUIS23_H)
    extrude(amount=-CORTAR_EXTRUIR9_DEPTH, mode=Mode.SUBTRACT)


solid = part.part
